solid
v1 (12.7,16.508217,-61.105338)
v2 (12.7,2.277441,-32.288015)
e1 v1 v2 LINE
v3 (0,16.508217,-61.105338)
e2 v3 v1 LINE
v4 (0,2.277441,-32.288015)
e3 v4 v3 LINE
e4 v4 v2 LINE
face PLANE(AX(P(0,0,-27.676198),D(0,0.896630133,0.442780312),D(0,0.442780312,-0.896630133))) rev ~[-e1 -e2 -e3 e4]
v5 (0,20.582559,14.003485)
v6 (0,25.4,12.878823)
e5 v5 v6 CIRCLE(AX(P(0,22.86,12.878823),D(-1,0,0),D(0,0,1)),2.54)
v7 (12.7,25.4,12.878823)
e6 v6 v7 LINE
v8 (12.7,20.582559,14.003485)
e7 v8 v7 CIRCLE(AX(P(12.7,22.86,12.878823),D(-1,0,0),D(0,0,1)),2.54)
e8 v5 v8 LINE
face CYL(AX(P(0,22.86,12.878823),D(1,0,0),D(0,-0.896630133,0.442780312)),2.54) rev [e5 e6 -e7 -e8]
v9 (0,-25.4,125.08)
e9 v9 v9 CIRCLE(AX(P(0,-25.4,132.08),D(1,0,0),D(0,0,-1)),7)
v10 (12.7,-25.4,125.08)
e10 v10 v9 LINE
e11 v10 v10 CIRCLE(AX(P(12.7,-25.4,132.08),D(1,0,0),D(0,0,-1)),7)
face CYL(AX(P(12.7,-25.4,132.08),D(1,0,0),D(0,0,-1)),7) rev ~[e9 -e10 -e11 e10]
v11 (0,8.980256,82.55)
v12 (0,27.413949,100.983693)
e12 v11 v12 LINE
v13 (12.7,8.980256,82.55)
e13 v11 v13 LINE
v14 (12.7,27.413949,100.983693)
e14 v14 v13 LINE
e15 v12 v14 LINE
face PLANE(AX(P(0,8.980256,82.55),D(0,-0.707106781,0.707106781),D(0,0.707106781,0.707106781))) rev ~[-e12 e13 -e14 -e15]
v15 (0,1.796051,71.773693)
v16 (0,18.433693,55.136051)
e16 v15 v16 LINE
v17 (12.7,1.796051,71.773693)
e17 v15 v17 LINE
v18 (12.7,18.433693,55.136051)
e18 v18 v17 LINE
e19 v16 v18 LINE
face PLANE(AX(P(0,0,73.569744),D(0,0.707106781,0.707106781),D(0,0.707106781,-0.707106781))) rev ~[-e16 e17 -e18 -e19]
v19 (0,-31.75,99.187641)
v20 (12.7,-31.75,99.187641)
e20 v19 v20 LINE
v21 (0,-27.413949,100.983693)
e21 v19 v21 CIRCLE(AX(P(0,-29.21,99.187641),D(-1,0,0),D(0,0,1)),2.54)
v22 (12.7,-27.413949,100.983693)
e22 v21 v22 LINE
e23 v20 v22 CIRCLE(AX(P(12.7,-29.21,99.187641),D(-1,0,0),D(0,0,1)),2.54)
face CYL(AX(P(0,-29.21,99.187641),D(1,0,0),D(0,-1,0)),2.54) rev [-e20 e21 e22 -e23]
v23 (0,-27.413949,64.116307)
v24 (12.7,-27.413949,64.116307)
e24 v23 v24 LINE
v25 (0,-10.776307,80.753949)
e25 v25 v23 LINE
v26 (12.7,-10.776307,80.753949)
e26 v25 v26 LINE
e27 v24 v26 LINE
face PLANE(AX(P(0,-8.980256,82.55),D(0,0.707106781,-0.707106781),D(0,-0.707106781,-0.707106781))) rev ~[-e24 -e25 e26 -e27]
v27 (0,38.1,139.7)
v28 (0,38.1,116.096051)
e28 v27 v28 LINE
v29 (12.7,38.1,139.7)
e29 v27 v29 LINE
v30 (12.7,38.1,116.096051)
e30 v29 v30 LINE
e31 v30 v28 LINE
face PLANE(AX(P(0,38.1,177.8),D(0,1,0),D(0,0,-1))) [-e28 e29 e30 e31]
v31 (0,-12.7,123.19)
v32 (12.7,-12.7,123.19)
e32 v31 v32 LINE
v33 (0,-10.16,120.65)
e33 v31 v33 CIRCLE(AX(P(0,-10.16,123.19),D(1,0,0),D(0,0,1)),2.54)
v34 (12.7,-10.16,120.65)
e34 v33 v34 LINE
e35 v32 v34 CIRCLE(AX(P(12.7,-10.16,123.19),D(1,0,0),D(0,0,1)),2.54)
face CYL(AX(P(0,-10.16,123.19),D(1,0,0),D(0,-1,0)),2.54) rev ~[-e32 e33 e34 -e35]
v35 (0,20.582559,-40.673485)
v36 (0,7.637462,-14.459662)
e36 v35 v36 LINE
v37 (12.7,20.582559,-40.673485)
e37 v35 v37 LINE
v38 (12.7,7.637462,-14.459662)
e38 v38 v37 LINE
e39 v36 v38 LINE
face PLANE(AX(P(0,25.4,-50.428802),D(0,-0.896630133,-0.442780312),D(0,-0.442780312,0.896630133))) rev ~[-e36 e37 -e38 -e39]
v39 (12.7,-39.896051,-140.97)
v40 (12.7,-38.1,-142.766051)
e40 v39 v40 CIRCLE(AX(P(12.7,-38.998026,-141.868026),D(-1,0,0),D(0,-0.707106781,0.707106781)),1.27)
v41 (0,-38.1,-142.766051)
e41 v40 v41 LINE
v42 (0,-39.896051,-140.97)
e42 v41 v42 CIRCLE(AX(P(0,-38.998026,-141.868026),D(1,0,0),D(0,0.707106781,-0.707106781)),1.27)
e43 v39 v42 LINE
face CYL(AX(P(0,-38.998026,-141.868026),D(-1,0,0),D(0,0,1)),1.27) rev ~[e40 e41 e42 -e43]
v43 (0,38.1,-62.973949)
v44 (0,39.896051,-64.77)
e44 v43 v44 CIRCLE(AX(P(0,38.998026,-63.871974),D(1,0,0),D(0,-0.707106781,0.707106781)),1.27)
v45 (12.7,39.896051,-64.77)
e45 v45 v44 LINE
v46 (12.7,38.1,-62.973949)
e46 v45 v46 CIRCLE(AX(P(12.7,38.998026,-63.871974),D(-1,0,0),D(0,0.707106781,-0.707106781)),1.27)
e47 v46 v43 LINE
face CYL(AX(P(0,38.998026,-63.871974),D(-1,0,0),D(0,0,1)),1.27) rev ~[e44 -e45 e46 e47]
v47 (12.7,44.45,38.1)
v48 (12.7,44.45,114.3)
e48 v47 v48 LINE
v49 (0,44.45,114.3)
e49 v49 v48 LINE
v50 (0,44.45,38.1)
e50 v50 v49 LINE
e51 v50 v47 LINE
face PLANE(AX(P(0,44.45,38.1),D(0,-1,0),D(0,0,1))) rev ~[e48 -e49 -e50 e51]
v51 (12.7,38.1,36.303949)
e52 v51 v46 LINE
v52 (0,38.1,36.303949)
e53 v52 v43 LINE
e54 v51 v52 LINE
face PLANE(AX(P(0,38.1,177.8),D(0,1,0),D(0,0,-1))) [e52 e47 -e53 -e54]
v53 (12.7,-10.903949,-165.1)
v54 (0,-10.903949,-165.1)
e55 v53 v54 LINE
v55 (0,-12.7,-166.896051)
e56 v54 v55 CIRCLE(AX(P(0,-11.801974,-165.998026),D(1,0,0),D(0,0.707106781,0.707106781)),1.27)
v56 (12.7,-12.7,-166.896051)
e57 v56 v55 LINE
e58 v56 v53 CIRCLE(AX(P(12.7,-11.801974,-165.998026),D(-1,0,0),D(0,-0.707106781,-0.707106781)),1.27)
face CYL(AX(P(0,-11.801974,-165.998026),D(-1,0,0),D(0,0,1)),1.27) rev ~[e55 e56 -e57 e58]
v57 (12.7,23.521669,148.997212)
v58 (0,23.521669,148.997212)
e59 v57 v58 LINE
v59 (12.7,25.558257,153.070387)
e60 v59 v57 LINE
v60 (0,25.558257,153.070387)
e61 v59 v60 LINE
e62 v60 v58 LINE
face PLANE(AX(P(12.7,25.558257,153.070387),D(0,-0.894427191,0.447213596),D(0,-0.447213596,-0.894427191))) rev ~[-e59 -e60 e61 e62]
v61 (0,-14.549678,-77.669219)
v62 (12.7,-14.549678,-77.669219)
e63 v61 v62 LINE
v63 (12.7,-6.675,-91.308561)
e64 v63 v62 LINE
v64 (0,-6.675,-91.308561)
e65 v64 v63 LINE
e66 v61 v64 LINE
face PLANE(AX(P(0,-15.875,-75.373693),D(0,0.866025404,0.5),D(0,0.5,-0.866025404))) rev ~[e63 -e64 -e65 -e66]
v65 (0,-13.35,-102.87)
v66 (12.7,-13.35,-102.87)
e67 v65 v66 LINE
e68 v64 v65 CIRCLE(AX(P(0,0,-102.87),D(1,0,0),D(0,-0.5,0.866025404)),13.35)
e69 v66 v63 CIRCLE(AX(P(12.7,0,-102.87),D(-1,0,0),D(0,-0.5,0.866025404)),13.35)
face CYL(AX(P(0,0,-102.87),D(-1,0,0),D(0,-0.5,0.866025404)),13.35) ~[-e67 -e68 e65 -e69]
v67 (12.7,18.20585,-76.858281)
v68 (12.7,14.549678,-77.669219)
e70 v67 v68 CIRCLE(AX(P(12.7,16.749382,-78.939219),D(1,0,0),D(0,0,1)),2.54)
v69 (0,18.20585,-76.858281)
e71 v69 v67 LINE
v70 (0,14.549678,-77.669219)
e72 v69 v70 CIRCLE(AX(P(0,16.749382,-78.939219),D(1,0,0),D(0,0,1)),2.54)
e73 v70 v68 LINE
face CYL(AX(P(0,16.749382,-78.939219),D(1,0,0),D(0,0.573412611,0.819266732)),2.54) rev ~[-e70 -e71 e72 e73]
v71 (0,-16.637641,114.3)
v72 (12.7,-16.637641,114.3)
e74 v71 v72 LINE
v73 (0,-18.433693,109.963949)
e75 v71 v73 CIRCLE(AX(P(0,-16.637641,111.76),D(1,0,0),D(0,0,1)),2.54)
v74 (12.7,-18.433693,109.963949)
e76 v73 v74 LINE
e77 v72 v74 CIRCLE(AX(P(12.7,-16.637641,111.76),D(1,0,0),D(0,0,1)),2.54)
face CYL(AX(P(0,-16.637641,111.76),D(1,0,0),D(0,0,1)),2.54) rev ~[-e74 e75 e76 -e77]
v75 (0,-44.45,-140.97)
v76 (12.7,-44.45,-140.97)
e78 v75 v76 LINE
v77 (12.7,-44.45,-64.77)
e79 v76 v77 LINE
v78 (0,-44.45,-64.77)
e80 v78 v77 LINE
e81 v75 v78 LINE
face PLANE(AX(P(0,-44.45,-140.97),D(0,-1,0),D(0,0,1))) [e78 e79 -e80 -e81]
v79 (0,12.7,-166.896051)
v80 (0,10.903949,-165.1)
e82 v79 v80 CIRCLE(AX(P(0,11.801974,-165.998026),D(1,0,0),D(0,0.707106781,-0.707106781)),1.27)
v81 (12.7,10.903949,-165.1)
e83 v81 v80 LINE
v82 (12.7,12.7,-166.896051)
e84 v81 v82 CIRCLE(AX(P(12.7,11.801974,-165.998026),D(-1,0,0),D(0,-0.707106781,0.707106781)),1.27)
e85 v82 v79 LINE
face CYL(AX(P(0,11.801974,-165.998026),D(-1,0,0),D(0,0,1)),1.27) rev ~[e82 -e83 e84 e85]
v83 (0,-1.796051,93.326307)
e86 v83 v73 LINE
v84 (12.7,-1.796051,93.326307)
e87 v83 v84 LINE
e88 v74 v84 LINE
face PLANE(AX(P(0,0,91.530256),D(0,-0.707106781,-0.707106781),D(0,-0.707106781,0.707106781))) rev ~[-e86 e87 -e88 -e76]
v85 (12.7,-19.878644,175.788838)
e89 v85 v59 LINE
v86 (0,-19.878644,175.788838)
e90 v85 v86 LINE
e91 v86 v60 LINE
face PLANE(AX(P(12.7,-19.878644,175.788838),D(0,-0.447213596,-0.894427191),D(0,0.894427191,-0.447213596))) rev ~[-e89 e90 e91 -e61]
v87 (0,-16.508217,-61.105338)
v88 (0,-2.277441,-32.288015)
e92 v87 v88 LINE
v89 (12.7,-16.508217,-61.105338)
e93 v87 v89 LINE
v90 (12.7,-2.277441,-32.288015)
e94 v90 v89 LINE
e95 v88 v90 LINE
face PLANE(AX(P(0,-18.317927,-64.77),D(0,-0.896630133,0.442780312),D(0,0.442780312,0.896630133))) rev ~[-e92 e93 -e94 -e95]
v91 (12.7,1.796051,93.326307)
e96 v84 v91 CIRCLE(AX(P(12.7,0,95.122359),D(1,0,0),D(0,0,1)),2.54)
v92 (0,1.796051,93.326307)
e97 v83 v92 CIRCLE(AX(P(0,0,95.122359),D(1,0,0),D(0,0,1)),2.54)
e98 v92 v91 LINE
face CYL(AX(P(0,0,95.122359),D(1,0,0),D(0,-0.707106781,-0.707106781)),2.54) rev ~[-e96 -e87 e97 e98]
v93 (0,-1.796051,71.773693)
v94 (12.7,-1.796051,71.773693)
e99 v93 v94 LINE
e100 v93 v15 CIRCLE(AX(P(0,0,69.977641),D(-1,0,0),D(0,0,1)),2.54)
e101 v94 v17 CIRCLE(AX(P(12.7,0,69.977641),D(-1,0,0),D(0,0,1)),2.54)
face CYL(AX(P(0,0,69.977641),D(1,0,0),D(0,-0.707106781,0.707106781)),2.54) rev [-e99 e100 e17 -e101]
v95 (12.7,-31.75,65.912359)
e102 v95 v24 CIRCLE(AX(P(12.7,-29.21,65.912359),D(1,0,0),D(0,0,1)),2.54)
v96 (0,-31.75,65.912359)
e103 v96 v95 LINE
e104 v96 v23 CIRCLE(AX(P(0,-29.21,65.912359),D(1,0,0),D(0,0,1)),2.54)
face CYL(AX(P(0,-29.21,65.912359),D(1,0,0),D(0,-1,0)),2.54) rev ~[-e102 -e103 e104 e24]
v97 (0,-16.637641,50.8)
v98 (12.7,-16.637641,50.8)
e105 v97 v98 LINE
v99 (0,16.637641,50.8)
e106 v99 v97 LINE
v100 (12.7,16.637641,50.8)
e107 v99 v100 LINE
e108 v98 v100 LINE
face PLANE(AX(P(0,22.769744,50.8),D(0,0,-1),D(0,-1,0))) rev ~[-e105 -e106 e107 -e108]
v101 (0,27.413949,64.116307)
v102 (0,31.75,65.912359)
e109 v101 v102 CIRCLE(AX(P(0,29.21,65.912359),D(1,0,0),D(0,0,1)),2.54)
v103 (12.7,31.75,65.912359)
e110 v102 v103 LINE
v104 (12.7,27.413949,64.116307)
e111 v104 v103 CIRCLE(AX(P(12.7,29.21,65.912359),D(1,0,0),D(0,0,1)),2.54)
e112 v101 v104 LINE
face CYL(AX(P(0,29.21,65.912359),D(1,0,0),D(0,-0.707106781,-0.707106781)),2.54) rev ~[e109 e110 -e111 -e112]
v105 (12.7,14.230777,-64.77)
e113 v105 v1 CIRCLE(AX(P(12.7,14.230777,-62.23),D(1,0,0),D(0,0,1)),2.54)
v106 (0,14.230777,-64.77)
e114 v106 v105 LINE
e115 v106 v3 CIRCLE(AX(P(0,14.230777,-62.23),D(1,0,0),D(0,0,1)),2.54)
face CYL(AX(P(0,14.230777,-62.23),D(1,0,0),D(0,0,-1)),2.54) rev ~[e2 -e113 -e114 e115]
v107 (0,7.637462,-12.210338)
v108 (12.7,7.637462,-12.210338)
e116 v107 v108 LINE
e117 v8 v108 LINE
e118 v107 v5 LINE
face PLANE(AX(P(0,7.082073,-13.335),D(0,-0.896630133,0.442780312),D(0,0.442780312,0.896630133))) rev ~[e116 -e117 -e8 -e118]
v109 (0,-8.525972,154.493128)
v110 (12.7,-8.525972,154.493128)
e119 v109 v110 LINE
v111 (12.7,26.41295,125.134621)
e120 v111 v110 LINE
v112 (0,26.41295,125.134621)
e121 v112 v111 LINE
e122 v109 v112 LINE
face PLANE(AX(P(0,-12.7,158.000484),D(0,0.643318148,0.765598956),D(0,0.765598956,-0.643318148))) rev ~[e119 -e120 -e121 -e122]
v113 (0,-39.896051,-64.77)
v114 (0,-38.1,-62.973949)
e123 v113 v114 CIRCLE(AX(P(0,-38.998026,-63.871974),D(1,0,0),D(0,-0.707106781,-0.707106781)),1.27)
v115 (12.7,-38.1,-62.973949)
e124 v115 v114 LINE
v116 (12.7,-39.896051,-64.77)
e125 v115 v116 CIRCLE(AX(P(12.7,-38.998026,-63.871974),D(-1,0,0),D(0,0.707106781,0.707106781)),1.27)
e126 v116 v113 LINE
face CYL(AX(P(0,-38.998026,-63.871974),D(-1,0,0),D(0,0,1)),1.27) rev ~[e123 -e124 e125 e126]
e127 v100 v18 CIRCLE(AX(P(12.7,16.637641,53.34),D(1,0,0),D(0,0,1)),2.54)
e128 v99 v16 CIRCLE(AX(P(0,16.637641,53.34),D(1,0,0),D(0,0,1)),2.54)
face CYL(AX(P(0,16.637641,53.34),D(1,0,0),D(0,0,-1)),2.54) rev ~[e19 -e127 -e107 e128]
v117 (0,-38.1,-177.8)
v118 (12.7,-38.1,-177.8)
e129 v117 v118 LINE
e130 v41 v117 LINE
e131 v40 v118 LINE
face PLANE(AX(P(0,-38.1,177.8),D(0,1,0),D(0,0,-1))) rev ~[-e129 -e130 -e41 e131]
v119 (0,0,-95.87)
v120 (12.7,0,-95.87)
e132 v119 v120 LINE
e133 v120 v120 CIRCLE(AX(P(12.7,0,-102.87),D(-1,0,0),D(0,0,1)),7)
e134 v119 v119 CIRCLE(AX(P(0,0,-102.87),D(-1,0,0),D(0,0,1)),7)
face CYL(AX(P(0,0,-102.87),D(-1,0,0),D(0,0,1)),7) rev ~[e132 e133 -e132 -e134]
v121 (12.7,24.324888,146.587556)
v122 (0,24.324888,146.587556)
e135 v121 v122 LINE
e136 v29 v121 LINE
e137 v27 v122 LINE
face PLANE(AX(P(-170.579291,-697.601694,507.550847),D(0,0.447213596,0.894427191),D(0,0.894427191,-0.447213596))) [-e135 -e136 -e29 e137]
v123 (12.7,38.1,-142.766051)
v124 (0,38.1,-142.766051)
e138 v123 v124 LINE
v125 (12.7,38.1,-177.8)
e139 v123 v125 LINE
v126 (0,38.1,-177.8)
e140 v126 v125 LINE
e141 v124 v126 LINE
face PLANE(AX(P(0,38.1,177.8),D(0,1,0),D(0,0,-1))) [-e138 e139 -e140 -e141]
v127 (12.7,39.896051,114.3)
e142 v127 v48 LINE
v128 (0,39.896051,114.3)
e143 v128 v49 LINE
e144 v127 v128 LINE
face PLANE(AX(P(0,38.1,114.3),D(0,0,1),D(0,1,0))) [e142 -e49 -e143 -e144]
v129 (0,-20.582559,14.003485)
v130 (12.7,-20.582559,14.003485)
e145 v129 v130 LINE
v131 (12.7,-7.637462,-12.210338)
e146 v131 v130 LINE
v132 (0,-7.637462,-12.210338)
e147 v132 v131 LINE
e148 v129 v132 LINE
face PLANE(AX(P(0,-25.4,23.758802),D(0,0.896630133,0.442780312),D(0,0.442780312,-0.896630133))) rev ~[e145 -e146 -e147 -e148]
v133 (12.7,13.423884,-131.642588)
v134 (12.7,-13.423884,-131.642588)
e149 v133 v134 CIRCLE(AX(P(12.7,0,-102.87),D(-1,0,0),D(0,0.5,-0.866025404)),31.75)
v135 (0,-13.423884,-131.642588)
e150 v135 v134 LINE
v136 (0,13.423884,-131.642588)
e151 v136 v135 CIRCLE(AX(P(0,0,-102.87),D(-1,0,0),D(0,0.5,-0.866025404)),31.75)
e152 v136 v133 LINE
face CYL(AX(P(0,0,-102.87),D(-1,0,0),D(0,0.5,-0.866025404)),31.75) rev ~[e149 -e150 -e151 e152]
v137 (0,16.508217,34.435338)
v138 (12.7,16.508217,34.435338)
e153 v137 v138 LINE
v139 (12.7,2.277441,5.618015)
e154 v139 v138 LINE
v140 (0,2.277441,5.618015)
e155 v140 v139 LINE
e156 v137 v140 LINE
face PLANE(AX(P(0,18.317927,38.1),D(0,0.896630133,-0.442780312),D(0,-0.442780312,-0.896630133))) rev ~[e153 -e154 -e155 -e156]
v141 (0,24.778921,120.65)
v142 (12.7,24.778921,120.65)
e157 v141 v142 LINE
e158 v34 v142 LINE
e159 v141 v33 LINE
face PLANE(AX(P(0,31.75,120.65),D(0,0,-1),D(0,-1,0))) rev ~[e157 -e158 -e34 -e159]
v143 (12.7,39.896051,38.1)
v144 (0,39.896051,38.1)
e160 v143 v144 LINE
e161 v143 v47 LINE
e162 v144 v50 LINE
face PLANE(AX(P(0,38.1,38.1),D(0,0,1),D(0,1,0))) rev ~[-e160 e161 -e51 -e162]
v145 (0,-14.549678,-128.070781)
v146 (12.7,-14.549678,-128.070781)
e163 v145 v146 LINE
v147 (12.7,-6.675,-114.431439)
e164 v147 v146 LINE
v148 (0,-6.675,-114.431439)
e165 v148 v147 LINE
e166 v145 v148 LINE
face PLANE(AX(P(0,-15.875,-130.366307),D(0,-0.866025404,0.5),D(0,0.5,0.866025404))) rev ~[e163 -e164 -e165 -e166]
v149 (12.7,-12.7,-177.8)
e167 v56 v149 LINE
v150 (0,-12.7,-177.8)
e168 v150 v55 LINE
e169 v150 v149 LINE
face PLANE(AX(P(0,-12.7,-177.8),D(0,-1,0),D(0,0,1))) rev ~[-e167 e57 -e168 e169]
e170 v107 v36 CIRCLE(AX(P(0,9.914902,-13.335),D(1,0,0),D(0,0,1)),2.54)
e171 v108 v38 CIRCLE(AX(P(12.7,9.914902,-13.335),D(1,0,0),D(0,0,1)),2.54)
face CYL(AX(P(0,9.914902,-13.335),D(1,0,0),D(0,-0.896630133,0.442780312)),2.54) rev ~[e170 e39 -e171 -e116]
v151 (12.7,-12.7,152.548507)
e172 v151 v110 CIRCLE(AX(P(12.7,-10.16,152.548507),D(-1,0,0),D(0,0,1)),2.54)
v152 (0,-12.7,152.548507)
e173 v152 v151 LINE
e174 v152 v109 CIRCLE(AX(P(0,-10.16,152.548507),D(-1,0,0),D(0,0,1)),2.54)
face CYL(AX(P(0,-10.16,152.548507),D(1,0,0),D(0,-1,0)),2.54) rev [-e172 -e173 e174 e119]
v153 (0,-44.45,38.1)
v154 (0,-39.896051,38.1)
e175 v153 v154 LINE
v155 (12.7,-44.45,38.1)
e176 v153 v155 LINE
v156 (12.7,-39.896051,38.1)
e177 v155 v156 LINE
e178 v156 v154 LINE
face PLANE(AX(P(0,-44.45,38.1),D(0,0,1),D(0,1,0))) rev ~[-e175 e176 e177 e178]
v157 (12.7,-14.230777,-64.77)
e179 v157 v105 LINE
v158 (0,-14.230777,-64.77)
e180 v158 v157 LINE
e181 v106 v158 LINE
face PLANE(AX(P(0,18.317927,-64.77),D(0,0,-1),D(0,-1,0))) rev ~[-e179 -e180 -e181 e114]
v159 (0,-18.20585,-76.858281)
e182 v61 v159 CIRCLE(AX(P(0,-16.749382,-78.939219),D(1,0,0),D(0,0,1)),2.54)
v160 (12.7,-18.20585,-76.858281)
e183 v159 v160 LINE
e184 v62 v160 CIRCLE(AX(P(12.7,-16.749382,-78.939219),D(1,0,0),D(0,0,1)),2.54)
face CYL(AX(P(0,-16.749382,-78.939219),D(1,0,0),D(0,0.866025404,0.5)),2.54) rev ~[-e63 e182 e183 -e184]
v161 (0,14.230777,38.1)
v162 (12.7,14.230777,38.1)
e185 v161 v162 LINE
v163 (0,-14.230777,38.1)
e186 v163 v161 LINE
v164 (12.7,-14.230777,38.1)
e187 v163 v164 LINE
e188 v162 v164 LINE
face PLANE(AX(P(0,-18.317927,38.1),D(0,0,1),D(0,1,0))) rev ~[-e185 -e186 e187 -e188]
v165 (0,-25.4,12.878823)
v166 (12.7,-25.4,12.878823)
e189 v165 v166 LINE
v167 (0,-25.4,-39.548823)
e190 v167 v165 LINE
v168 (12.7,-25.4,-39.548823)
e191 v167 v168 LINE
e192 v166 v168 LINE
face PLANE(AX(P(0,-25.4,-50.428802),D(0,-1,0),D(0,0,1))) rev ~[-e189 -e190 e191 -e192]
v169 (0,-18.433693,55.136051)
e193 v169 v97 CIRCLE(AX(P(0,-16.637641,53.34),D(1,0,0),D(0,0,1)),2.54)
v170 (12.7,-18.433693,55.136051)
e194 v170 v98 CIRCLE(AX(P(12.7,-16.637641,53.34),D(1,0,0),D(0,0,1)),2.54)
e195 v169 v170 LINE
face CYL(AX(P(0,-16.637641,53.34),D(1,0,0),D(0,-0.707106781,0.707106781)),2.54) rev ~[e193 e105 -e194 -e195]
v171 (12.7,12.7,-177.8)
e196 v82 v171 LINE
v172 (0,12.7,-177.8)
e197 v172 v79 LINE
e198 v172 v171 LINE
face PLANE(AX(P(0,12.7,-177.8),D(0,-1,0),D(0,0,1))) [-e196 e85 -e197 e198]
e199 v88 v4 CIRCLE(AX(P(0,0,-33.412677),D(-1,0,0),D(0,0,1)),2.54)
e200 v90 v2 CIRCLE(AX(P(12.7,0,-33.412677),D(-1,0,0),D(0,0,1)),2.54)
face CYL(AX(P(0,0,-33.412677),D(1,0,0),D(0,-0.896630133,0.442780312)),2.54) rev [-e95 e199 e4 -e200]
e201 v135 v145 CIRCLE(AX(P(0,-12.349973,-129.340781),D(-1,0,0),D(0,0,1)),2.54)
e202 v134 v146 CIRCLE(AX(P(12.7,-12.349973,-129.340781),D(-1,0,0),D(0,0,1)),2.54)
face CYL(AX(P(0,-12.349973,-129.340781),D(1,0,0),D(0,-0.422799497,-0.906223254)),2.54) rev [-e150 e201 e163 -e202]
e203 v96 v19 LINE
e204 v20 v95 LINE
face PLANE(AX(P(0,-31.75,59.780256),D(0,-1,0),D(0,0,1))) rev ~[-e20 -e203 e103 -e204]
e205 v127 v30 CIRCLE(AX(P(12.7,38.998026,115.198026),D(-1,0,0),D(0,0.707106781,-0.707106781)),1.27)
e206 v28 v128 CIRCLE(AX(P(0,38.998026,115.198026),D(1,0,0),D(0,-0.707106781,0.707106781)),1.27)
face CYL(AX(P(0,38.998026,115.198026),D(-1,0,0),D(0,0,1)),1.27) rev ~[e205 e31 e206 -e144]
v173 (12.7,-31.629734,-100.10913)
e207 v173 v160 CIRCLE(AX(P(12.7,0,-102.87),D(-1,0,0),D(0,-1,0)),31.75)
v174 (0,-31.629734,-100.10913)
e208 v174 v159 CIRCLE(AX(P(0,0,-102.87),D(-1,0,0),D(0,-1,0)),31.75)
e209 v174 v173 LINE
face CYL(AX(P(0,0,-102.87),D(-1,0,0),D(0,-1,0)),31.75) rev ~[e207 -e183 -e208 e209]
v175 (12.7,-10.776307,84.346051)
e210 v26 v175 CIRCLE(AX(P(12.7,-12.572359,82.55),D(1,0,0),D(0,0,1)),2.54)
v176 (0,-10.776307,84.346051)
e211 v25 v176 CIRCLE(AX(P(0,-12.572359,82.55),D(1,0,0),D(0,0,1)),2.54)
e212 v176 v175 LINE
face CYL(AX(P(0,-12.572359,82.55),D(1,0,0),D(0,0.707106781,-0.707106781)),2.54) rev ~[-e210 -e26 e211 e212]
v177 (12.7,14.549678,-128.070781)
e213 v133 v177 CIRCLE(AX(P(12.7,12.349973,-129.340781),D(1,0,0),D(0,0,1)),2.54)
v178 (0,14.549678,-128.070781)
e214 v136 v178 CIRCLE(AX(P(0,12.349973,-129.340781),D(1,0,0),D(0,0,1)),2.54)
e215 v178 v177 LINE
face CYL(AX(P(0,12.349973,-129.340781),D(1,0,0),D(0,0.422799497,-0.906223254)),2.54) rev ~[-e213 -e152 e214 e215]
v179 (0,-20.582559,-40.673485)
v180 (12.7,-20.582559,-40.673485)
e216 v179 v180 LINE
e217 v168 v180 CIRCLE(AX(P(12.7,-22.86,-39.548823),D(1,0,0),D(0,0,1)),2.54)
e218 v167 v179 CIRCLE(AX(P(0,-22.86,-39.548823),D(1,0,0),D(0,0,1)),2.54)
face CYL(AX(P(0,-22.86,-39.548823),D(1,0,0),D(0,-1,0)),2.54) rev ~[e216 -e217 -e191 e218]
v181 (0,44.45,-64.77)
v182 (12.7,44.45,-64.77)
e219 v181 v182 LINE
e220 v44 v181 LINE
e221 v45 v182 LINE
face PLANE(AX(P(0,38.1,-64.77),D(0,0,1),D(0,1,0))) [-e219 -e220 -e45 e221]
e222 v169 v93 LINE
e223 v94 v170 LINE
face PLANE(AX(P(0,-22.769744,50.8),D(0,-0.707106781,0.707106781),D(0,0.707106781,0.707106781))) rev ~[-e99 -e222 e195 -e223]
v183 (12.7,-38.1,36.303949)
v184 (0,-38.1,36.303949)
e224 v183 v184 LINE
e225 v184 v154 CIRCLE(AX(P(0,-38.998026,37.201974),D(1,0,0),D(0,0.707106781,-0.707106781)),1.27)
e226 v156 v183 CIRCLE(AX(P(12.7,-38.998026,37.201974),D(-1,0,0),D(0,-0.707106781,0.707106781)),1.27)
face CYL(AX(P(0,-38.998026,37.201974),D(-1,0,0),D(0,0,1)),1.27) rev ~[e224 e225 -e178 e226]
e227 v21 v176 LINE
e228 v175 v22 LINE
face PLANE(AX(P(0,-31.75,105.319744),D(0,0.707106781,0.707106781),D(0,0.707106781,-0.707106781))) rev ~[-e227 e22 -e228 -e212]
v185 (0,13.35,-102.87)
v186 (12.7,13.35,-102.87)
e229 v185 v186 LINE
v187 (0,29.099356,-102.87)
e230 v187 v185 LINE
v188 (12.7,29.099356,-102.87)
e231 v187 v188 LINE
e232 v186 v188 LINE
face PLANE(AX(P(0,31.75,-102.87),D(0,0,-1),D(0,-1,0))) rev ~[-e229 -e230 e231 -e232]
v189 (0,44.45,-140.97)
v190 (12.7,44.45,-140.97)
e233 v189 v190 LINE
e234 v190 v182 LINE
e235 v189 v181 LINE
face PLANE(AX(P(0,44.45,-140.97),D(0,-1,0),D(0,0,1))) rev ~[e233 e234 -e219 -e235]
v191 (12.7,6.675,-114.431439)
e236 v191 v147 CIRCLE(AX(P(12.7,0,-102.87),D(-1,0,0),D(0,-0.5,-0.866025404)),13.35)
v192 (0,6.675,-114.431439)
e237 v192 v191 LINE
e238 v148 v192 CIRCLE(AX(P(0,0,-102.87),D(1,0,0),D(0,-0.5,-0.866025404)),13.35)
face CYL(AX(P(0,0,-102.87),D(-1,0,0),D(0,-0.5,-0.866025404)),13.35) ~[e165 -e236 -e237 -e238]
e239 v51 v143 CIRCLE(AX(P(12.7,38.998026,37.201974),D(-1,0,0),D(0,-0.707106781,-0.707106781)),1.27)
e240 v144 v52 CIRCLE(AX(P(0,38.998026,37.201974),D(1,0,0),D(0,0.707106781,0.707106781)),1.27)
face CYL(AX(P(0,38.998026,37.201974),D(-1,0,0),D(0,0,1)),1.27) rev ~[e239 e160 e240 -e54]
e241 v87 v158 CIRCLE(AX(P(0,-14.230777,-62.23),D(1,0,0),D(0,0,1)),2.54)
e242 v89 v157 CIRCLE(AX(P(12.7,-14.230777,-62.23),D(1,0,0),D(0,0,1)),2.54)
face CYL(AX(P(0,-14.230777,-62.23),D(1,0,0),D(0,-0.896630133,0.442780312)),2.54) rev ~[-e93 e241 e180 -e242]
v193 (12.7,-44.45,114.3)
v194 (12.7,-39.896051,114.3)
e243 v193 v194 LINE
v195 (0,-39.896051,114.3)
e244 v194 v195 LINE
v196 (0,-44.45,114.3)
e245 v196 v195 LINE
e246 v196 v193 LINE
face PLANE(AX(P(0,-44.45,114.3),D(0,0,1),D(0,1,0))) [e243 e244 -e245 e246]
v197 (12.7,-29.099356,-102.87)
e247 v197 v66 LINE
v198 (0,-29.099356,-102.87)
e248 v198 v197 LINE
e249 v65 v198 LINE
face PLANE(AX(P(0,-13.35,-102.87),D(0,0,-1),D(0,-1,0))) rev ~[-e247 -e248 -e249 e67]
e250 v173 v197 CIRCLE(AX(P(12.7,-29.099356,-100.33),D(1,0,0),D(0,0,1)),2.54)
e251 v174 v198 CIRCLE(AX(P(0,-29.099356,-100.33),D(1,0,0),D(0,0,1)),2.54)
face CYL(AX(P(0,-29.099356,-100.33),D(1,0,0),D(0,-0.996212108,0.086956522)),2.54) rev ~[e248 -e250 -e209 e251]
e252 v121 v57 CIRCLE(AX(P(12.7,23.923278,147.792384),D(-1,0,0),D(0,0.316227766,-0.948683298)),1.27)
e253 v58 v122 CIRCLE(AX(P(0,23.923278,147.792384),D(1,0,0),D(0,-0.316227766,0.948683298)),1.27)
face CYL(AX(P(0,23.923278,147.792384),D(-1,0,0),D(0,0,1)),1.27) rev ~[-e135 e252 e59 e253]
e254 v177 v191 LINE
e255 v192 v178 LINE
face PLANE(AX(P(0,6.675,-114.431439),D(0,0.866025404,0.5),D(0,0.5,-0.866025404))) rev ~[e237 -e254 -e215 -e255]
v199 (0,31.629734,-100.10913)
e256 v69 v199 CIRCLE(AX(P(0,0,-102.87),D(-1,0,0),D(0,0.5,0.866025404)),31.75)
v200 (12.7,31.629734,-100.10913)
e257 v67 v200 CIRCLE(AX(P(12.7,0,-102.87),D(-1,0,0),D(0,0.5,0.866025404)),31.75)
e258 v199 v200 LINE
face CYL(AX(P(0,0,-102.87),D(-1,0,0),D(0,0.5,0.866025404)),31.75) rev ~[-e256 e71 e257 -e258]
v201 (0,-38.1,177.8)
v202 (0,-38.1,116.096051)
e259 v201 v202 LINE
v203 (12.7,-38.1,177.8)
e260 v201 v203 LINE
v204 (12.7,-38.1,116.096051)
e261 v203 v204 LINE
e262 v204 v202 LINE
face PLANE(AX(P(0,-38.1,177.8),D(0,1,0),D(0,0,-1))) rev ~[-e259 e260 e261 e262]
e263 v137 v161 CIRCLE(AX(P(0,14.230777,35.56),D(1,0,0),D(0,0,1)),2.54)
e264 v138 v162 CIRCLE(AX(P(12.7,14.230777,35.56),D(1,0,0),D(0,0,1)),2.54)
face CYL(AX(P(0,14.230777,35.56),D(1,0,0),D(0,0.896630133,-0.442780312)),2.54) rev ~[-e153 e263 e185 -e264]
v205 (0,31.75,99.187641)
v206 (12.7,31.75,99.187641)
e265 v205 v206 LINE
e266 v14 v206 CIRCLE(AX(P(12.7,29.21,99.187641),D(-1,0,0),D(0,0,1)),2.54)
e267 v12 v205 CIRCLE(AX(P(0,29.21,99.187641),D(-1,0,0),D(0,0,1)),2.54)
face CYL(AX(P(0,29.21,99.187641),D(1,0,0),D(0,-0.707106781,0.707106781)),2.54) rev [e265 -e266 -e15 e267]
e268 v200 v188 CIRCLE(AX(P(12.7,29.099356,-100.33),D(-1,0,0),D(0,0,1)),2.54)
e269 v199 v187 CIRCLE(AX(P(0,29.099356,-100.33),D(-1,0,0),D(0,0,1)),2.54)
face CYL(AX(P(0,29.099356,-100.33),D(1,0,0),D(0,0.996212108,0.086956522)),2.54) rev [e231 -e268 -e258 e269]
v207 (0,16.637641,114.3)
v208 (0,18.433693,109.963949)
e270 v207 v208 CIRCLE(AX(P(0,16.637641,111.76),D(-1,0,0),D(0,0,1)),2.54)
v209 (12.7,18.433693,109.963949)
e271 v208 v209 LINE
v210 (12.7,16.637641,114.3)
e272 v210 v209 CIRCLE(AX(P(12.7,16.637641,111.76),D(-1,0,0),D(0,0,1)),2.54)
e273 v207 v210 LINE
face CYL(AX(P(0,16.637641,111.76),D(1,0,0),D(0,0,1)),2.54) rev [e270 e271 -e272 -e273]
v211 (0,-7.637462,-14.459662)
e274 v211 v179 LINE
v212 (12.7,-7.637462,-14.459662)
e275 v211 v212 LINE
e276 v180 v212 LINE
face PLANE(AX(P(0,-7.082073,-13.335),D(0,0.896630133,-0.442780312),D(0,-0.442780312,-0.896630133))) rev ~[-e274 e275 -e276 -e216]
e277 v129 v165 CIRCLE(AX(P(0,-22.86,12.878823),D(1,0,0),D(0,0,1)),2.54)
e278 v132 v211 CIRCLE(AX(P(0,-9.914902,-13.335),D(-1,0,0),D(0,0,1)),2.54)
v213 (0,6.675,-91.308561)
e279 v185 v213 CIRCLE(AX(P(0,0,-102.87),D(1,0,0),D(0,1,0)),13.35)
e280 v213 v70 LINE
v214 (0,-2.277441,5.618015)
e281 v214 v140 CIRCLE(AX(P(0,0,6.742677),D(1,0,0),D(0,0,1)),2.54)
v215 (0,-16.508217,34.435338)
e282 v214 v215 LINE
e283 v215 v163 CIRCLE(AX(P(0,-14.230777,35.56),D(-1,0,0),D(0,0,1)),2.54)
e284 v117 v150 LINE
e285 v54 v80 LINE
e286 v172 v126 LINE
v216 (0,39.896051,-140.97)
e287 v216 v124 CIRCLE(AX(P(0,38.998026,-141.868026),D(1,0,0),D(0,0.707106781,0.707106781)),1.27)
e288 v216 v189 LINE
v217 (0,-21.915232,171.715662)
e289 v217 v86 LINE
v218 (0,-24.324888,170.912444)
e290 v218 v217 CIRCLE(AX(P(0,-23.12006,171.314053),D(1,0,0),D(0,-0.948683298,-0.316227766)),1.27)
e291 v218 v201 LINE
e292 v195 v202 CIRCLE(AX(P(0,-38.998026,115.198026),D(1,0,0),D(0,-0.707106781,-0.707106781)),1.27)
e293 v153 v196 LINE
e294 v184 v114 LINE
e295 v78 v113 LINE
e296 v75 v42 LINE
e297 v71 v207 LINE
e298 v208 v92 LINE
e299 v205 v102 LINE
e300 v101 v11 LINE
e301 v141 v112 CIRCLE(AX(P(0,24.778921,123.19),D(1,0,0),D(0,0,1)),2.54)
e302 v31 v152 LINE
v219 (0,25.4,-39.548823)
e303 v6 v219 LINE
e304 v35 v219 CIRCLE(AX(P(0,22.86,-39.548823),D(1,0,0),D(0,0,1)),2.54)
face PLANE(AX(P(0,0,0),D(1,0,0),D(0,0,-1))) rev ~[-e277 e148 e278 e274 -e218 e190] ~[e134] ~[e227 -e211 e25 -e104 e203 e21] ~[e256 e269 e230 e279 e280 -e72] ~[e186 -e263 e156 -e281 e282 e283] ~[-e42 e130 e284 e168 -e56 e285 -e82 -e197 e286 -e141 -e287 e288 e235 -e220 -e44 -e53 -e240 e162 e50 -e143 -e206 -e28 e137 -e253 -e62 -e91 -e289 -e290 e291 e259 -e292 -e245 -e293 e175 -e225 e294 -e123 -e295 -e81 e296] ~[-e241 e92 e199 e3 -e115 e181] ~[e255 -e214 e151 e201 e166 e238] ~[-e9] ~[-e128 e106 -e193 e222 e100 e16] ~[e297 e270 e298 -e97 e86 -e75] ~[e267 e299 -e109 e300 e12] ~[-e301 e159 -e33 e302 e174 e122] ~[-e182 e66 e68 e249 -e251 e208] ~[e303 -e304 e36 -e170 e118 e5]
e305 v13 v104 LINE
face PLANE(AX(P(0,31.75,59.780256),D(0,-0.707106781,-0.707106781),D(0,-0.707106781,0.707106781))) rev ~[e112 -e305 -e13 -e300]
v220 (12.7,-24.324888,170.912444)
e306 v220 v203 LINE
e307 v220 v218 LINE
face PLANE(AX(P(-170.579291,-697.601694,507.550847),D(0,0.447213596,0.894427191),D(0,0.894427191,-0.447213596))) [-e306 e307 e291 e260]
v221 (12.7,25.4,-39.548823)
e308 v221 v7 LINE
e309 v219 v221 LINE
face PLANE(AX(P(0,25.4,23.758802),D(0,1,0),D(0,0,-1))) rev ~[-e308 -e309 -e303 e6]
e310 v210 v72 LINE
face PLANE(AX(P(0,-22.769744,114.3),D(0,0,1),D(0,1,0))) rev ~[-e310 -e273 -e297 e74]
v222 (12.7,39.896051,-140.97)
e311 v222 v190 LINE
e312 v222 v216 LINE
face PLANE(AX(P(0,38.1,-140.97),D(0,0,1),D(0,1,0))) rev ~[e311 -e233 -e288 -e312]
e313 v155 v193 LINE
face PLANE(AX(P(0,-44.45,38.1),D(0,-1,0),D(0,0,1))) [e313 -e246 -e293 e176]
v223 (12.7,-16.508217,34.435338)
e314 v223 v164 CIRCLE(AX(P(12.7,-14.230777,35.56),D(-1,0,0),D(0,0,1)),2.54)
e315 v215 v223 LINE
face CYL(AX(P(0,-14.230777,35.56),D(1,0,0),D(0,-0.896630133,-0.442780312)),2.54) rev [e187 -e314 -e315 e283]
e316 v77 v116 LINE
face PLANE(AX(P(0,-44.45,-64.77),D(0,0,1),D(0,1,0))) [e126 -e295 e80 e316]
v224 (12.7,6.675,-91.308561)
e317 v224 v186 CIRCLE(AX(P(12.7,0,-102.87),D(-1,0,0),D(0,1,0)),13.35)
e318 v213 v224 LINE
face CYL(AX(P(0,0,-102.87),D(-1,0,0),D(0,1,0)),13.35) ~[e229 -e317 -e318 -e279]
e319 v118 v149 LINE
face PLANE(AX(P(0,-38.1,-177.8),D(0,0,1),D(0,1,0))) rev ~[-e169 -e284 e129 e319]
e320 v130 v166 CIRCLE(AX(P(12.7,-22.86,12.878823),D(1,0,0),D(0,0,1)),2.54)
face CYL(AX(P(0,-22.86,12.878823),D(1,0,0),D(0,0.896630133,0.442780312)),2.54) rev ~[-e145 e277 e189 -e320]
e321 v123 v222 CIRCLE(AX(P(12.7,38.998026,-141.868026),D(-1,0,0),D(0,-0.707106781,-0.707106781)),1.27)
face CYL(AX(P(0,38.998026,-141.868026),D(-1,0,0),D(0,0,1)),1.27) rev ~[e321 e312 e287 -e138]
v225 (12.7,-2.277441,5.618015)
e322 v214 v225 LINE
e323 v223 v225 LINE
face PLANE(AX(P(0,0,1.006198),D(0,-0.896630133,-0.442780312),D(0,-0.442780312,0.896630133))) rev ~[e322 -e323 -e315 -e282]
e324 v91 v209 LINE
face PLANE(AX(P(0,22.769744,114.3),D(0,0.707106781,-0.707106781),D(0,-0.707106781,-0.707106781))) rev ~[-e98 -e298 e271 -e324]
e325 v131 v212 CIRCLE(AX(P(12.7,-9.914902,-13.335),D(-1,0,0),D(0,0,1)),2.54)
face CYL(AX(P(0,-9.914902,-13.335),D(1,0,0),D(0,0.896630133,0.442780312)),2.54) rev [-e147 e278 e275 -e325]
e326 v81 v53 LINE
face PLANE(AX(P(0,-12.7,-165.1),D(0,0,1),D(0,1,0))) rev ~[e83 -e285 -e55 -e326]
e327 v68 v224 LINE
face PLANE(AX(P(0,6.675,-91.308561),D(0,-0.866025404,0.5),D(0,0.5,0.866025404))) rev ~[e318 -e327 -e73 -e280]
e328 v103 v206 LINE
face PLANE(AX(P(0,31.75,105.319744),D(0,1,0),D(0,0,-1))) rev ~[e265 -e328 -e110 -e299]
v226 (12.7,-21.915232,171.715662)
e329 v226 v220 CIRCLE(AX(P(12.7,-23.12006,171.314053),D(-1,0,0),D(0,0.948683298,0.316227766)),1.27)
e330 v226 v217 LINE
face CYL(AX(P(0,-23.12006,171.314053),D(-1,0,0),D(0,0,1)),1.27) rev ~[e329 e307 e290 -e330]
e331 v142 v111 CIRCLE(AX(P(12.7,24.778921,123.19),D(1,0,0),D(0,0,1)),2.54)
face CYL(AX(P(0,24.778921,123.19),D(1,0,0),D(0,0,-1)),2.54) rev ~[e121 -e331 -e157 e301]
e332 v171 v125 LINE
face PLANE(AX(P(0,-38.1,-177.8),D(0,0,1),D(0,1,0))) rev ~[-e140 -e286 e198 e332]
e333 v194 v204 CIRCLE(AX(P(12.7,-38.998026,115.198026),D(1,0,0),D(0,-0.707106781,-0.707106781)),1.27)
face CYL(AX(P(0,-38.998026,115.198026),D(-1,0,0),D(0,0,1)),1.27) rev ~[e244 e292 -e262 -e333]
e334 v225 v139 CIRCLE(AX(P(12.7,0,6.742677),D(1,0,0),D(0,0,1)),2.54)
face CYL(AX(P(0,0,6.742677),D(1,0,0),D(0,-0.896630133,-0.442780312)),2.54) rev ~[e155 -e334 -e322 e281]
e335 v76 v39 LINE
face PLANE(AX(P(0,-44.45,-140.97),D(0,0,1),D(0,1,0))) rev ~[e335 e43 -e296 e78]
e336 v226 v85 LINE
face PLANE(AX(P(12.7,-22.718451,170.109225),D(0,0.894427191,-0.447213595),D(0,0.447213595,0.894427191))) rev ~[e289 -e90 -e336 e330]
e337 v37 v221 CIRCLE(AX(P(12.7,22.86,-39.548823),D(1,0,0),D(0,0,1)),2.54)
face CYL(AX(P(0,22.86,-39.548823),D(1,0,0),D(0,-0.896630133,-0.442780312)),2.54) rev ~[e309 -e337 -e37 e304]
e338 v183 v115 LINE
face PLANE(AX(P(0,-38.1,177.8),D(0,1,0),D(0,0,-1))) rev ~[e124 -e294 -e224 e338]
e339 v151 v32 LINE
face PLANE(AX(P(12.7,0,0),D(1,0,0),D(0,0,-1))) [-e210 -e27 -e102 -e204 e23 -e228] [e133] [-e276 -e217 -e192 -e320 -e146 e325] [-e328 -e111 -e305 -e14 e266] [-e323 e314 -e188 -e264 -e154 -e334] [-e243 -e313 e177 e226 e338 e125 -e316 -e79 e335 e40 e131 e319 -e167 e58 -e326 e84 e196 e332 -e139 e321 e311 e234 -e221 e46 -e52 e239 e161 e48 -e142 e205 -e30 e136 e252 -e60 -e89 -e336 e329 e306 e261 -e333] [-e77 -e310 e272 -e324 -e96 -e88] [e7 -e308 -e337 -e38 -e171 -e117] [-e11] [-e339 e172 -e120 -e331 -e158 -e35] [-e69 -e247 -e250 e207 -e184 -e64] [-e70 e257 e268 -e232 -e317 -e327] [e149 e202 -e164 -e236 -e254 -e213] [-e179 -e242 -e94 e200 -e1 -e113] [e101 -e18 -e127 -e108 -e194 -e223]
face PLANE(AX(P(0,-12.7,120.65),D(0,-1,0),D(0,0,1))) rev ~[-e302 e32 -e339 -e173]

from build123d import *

# Parameters (mm, degrees)
SKETCH1_W               = 355.6
SKETCH1_H               = 76.2
BOSS_EXTRUDE1_DEPTH     = 12.7
CUT_EXTRUDE1_DEPTH      = 183.279291199
CUT_EXTRUDE1_DEPTH_BACK = 183.279291199
SKETCH3_W               = 76.2
SKETCH3_H               = 6.35
BOSS_EXTRUDE2_DEPTH     = 12.7
SKETCH4_W               = 12.7
SKETCH4_H               = 25.4
CUT_EXTRUDE2_DEPTH      = 184.711546997
SKETCH5_R               = 6.99999997
CUT_EXTRUDE3_DEPTH      = 184.711546997
CUT_EXTRUDE4_DEPTH      = 184.711546997
BOSS_EXTRUDE3_DEPTH     = 12.7
SKETCH9_R               = 1.27
CUT_EXTRUDE6_DEPTH      = 184.711546997
CUT_EXTRUDE7_DEPTH      = 184.711546997
FILLET1_R               = 2.54
FILLET2_R               = 2.54
SKETCH11_R              = 6.99999997
CUT_EXTRUDE8_DEPTH      = 184.711546997


with BuildPart() as part:
    # Sketch1 → Boss-Extrude1 (new body)
    with BuildSketch(Plane(origin=(0, 0, 0), x_dir=(0, 0, -1), z_dir=(1, 0, 0))):
        Rectangle(SKETCH1_W, SKETCH1_H)
    extrude(amount=BOSS_EXTRUDE1_DEPTH)

    # Sketch2 → Cut-Extrude1 (cut, two sides: drawn at the far end of the back side and taken through both)
    with BuildSketch(Plane(origin=(12.7, 0, 0), x_dir=(0, 0, -1), z_dir=(1, 0, 0)).offset(-CUT_EXTRUDE1_DEPTH_BACK)):
        Polygon((-507.550847217, -697.601694433), (-177.8, -38.1), (-139.7, 38.1), (190.050847217, 697.601694433), (-1128.95254165, 1357.103388866), (-1826.554236083, -38.1), align=None)
    extrude(amount=CUT_EXTRUDE1_DEPTH + CUT_EXTRUDE1_DEPTH_BACK, mode=Mode.SUBTRACT)

    # Sketch3 → Boss-Extrude2 (add)
    with BuildSketch(Plane.ZY):
        with Locations((-102.87, -41.275)):
            Rectangle(SKETCH3_W, SKETCH3_H)
        with Locations((76.2, -41.275)):
            Rectangle(SKETCH3_W, SKETCH3_H)
        with Locations((-102.87, 41.275)):
            Rectangle(SKETCH3_W, SKETCH3_H)
        with Locations((76.2, 41.275)):
            Rectangle(SKETCH3_W, SKETCH3_H)
    extrude(amount=-BOSS_EXTRUDE2_DEPTH)

    # Sketch4 → Cut-Extrude2 (cut, through all)
    with BuildSketch(Plane.ZY):
        with Locations((-171.45, 0)):
            Rectangle(SKETCH4_W, SKETCH4_H)
    extrude(amount=-CUT_EXTRUDE2_DEPTH, mode=Mode.SUBTRACT)

    # Sketch5 → Cut-Extrude3 (cut, through all)
    with BuildSketch(Plane.ZY):
        with Locations((-102.87, 0)):
            Circle(SKETCH5_R)
    extrude(amount=-CUT_EXTRUDE3_DEPTH, mode=Mode.SUBTRACT)

    # Sketch6 → Cut-Extrude4 (cut, through all)
    with BuildSketch(Plane.ZY):
        Polygon((-13.335, -7.08207294), (-50.428802297, -25.4), (23.758802297, -25.4), align=None)
        Polygon((-27.676197703, 0), (-64.77, 18.31792706), (-64.77, -18.31792706), align=None)
        Polygon((23.758802297, 25.4), (-50.428802297, 25.4), (-13.335, 7.08207294), align=None)
        Polygon((38.1, -18.31792706), (38.1, 18.31792706), (1.006197703, 0), align=None)
        Polygon((105.319743879, -31.75), (82.55, -8.980256121), (59.780256121, -31.75), align=None)
        Polygon((114.3, 22.769743879), (91.530256121, 0), (114.3, -22.769743879), align=None)
        Polygon((73.569743879, 0), (50.8, 22.769743879), (50.8, -22.769743879), align=None)
        Polygon((105.319743879, 31.75), (59.780256121, 31.75), (82.55, 8.980256121), align=None)
    extrude(amount=-CUT_EXTRUDE4_DEPTH, mode=Mode.SUBTRACT)

    # Sketch8 → Boss-Extrude3 (add)
    with BuildSketch(Plane(origin=(12.7, 0, 0), x_dir=(0, 0, -1), z_dir=(1, 0, 0))):
        Polygon((-147.390774674, 22.718450651), (-170.109225326, -22.718450651), (-175.788837989, -19.87864432), (-153.070387337, 25.558256983), align=None)
    extrude(amount=-BOSS_EXTRUDE3_DEPTH)

    # Sketch9 → Cut-Extrude6 (cut, through all)
    with BuildSketch(Plane.ZY):
        with Locations((-165.998025612, 11.801974388)):
            Circle(SKETCH9_R)
        with Locations((-165.998025612, -11.801974388)):
            Circle(SKETCH9_R)
        with Locations((-141.868025612, 38.998025612)):
            Circle(SKETCH9_R)
        with Locations((-141.868025612, -38.998025612)):
            Circle(SKETCH9_R)
        with Locations((-63.871974388, -38.998025612)):
            Circle(SKETCH9_R)
        with Locations((-63.871974388, 38.998025612)):
            Circle(SKETCH9_R)
        with Locations((37.201974388, 38.998025612)):
            Circle(SKETCH9_R)
        with Locations((37.201974388, -38.998025612)):
            Circle(SKETCH9_R)
        with Locations((115.198025612, -38.998025612)):
            Circle(SKETCH9_R)
        with Locations((115.198025612, 38.998025612)):
            Circle(SKETCH9_R)
        with Locations((147.792383937, 23.92327844)):
            Circle(SKETCH9_R)
        with Locations((171.314053114, -23.120059914)):
            Circle(SKETCH9_R)
    extrude(amount=-CUT_EXTRUDE6_DEPTH, mode=Mode.SUBTRACT)

    # Sketch10 → Cut-Extrude7 (cut, through all)
    with BuildSketch(Plane.ZY):
        with BuildLine():
            Line((-130.36630657, -15.875), (-114.431439115, -6.674999985))
            ThreePointArc((-114.431439115, -6.674999985), (-116.21999997, 0), (-114.431439115, 6.674999985))
            Line((-114.431439115, 6.674999985), (-130.36630657, 15.875))
            ThreePointArc((-130.36630657, 15.875), (-134.62, 0), (-130.36630657, -15.875))
        make_face()
        with BuildLine():
            ThreePointArc((-91.308560885, -6.674999985), (-96.195000015, -11.561439115), (-102.87, -13.34999997))
            Line((-102.87, -13.34999997), (-102.87, -31.75))
            ThreePointArc((-102.87, -31.75), (-86.995, -27.49630657), (-75.37369343, -15.875))
            Line((-75.37369343, -15.875), (-91.308560885, -6.674999985))
        make_face()
        with BuildLine():
            Line((-102.87, 31.75), (-102.87, 13.34999997))
            ThreePointArc((-102.87, 13.34999997), (-96.195000015, 11.561439115), (-91.308560885, 6.674999985))
            Line((-91.308560885, 6.674999985), (-75.37369343, 15.875))
            ThreePointArc((-75.37369343, 15.875), (-86.995, 27.49630657), (-102.87, 31.75))
        make_face()
        Polygon((158.000484171, -12.7), (120.65, 31.75), (120.65, -12.7), align=None)
    extrude(amount=-CUT_EXTRUDE7_DEPTH, mode=Mode.SUBTRACT)

    # Fillet1
    fillet1_edges = [part.edges().sort_by_distance(p)[0] for p in [
        (6.35, 15.875, -130.36630657),
        (6.35, -15.875, -130.36630657),
        (6.35, -31.75, -102.87),
        (6.35, -15.875, -75.37369343),
        (6.35, 15.875, -75.37369343),
        (6.35, 31.75, -102.87),
    ]]
    fillet(fillet1_edges, radius=FILLET1_R)

    # Fillet2
    fillet2_edges = [part.edges().sort_by_distance(p)[0] for p in [
        (6.35, -31.75, 105.319743879),
        (6.35, -31.75, 59.780256121),
        (6.35, -8.980256121, 82.55),
        (6.35, 0, 1.006197703),
        (6.35, 18.31792706, 38.1),
        (6.35, -18.31792706, 38.1),
        (6.35, 0, -27.676197703),
        (6.35, -18.31792706, -64.77),
        (6.35, 18.31792706, -64.77),
        (6.35, 25.4, -50.428802297),
        (6.35, 25.4, 23.758802297),
        (6.35, 7.08207294, -13.335),
        (6.35, 31.75, 59.780256121),
        (6.35, 31.75, 105.319743879),
        (6.35, 0, 73.569743879),
        (6.35, -22.769743879, 50.8),
        (6.35, 22.769743879, 50.8),
        (6.35, -22.769743879, 114.3),
        (6.35, 0, 91.530256121),
        (6.35, 22.769743879, 114.3),
        (6.35, -25.4, 23.758802297),
        (6.35, -25.4, -50.428802297),
        (6.35, -7.08207294, -13.335),
        (6.35, -12.7, 158.000484171),
        (6.35, -12.7, 120.65),
        (6.35, 31.75, 120.65),
    ]]
    fillet(fillet2_edges, radius=FILLET2_R)

    # Sketch11 → Cut-Extrude8 (cut, through all)
    with BuildSketch(Plane(origin=(12.7, 0, 0), x_dir=(0, 0, -1), z_dir=(1, 0, 0))):
        with Locations((-132.08, -25.4)):
            Circle(SKETCH11_R)
    extrude(amount=-CUT_EXTRUDE8_DEPTH, mode=Mode.SUBTRACT)


solid = part.part
